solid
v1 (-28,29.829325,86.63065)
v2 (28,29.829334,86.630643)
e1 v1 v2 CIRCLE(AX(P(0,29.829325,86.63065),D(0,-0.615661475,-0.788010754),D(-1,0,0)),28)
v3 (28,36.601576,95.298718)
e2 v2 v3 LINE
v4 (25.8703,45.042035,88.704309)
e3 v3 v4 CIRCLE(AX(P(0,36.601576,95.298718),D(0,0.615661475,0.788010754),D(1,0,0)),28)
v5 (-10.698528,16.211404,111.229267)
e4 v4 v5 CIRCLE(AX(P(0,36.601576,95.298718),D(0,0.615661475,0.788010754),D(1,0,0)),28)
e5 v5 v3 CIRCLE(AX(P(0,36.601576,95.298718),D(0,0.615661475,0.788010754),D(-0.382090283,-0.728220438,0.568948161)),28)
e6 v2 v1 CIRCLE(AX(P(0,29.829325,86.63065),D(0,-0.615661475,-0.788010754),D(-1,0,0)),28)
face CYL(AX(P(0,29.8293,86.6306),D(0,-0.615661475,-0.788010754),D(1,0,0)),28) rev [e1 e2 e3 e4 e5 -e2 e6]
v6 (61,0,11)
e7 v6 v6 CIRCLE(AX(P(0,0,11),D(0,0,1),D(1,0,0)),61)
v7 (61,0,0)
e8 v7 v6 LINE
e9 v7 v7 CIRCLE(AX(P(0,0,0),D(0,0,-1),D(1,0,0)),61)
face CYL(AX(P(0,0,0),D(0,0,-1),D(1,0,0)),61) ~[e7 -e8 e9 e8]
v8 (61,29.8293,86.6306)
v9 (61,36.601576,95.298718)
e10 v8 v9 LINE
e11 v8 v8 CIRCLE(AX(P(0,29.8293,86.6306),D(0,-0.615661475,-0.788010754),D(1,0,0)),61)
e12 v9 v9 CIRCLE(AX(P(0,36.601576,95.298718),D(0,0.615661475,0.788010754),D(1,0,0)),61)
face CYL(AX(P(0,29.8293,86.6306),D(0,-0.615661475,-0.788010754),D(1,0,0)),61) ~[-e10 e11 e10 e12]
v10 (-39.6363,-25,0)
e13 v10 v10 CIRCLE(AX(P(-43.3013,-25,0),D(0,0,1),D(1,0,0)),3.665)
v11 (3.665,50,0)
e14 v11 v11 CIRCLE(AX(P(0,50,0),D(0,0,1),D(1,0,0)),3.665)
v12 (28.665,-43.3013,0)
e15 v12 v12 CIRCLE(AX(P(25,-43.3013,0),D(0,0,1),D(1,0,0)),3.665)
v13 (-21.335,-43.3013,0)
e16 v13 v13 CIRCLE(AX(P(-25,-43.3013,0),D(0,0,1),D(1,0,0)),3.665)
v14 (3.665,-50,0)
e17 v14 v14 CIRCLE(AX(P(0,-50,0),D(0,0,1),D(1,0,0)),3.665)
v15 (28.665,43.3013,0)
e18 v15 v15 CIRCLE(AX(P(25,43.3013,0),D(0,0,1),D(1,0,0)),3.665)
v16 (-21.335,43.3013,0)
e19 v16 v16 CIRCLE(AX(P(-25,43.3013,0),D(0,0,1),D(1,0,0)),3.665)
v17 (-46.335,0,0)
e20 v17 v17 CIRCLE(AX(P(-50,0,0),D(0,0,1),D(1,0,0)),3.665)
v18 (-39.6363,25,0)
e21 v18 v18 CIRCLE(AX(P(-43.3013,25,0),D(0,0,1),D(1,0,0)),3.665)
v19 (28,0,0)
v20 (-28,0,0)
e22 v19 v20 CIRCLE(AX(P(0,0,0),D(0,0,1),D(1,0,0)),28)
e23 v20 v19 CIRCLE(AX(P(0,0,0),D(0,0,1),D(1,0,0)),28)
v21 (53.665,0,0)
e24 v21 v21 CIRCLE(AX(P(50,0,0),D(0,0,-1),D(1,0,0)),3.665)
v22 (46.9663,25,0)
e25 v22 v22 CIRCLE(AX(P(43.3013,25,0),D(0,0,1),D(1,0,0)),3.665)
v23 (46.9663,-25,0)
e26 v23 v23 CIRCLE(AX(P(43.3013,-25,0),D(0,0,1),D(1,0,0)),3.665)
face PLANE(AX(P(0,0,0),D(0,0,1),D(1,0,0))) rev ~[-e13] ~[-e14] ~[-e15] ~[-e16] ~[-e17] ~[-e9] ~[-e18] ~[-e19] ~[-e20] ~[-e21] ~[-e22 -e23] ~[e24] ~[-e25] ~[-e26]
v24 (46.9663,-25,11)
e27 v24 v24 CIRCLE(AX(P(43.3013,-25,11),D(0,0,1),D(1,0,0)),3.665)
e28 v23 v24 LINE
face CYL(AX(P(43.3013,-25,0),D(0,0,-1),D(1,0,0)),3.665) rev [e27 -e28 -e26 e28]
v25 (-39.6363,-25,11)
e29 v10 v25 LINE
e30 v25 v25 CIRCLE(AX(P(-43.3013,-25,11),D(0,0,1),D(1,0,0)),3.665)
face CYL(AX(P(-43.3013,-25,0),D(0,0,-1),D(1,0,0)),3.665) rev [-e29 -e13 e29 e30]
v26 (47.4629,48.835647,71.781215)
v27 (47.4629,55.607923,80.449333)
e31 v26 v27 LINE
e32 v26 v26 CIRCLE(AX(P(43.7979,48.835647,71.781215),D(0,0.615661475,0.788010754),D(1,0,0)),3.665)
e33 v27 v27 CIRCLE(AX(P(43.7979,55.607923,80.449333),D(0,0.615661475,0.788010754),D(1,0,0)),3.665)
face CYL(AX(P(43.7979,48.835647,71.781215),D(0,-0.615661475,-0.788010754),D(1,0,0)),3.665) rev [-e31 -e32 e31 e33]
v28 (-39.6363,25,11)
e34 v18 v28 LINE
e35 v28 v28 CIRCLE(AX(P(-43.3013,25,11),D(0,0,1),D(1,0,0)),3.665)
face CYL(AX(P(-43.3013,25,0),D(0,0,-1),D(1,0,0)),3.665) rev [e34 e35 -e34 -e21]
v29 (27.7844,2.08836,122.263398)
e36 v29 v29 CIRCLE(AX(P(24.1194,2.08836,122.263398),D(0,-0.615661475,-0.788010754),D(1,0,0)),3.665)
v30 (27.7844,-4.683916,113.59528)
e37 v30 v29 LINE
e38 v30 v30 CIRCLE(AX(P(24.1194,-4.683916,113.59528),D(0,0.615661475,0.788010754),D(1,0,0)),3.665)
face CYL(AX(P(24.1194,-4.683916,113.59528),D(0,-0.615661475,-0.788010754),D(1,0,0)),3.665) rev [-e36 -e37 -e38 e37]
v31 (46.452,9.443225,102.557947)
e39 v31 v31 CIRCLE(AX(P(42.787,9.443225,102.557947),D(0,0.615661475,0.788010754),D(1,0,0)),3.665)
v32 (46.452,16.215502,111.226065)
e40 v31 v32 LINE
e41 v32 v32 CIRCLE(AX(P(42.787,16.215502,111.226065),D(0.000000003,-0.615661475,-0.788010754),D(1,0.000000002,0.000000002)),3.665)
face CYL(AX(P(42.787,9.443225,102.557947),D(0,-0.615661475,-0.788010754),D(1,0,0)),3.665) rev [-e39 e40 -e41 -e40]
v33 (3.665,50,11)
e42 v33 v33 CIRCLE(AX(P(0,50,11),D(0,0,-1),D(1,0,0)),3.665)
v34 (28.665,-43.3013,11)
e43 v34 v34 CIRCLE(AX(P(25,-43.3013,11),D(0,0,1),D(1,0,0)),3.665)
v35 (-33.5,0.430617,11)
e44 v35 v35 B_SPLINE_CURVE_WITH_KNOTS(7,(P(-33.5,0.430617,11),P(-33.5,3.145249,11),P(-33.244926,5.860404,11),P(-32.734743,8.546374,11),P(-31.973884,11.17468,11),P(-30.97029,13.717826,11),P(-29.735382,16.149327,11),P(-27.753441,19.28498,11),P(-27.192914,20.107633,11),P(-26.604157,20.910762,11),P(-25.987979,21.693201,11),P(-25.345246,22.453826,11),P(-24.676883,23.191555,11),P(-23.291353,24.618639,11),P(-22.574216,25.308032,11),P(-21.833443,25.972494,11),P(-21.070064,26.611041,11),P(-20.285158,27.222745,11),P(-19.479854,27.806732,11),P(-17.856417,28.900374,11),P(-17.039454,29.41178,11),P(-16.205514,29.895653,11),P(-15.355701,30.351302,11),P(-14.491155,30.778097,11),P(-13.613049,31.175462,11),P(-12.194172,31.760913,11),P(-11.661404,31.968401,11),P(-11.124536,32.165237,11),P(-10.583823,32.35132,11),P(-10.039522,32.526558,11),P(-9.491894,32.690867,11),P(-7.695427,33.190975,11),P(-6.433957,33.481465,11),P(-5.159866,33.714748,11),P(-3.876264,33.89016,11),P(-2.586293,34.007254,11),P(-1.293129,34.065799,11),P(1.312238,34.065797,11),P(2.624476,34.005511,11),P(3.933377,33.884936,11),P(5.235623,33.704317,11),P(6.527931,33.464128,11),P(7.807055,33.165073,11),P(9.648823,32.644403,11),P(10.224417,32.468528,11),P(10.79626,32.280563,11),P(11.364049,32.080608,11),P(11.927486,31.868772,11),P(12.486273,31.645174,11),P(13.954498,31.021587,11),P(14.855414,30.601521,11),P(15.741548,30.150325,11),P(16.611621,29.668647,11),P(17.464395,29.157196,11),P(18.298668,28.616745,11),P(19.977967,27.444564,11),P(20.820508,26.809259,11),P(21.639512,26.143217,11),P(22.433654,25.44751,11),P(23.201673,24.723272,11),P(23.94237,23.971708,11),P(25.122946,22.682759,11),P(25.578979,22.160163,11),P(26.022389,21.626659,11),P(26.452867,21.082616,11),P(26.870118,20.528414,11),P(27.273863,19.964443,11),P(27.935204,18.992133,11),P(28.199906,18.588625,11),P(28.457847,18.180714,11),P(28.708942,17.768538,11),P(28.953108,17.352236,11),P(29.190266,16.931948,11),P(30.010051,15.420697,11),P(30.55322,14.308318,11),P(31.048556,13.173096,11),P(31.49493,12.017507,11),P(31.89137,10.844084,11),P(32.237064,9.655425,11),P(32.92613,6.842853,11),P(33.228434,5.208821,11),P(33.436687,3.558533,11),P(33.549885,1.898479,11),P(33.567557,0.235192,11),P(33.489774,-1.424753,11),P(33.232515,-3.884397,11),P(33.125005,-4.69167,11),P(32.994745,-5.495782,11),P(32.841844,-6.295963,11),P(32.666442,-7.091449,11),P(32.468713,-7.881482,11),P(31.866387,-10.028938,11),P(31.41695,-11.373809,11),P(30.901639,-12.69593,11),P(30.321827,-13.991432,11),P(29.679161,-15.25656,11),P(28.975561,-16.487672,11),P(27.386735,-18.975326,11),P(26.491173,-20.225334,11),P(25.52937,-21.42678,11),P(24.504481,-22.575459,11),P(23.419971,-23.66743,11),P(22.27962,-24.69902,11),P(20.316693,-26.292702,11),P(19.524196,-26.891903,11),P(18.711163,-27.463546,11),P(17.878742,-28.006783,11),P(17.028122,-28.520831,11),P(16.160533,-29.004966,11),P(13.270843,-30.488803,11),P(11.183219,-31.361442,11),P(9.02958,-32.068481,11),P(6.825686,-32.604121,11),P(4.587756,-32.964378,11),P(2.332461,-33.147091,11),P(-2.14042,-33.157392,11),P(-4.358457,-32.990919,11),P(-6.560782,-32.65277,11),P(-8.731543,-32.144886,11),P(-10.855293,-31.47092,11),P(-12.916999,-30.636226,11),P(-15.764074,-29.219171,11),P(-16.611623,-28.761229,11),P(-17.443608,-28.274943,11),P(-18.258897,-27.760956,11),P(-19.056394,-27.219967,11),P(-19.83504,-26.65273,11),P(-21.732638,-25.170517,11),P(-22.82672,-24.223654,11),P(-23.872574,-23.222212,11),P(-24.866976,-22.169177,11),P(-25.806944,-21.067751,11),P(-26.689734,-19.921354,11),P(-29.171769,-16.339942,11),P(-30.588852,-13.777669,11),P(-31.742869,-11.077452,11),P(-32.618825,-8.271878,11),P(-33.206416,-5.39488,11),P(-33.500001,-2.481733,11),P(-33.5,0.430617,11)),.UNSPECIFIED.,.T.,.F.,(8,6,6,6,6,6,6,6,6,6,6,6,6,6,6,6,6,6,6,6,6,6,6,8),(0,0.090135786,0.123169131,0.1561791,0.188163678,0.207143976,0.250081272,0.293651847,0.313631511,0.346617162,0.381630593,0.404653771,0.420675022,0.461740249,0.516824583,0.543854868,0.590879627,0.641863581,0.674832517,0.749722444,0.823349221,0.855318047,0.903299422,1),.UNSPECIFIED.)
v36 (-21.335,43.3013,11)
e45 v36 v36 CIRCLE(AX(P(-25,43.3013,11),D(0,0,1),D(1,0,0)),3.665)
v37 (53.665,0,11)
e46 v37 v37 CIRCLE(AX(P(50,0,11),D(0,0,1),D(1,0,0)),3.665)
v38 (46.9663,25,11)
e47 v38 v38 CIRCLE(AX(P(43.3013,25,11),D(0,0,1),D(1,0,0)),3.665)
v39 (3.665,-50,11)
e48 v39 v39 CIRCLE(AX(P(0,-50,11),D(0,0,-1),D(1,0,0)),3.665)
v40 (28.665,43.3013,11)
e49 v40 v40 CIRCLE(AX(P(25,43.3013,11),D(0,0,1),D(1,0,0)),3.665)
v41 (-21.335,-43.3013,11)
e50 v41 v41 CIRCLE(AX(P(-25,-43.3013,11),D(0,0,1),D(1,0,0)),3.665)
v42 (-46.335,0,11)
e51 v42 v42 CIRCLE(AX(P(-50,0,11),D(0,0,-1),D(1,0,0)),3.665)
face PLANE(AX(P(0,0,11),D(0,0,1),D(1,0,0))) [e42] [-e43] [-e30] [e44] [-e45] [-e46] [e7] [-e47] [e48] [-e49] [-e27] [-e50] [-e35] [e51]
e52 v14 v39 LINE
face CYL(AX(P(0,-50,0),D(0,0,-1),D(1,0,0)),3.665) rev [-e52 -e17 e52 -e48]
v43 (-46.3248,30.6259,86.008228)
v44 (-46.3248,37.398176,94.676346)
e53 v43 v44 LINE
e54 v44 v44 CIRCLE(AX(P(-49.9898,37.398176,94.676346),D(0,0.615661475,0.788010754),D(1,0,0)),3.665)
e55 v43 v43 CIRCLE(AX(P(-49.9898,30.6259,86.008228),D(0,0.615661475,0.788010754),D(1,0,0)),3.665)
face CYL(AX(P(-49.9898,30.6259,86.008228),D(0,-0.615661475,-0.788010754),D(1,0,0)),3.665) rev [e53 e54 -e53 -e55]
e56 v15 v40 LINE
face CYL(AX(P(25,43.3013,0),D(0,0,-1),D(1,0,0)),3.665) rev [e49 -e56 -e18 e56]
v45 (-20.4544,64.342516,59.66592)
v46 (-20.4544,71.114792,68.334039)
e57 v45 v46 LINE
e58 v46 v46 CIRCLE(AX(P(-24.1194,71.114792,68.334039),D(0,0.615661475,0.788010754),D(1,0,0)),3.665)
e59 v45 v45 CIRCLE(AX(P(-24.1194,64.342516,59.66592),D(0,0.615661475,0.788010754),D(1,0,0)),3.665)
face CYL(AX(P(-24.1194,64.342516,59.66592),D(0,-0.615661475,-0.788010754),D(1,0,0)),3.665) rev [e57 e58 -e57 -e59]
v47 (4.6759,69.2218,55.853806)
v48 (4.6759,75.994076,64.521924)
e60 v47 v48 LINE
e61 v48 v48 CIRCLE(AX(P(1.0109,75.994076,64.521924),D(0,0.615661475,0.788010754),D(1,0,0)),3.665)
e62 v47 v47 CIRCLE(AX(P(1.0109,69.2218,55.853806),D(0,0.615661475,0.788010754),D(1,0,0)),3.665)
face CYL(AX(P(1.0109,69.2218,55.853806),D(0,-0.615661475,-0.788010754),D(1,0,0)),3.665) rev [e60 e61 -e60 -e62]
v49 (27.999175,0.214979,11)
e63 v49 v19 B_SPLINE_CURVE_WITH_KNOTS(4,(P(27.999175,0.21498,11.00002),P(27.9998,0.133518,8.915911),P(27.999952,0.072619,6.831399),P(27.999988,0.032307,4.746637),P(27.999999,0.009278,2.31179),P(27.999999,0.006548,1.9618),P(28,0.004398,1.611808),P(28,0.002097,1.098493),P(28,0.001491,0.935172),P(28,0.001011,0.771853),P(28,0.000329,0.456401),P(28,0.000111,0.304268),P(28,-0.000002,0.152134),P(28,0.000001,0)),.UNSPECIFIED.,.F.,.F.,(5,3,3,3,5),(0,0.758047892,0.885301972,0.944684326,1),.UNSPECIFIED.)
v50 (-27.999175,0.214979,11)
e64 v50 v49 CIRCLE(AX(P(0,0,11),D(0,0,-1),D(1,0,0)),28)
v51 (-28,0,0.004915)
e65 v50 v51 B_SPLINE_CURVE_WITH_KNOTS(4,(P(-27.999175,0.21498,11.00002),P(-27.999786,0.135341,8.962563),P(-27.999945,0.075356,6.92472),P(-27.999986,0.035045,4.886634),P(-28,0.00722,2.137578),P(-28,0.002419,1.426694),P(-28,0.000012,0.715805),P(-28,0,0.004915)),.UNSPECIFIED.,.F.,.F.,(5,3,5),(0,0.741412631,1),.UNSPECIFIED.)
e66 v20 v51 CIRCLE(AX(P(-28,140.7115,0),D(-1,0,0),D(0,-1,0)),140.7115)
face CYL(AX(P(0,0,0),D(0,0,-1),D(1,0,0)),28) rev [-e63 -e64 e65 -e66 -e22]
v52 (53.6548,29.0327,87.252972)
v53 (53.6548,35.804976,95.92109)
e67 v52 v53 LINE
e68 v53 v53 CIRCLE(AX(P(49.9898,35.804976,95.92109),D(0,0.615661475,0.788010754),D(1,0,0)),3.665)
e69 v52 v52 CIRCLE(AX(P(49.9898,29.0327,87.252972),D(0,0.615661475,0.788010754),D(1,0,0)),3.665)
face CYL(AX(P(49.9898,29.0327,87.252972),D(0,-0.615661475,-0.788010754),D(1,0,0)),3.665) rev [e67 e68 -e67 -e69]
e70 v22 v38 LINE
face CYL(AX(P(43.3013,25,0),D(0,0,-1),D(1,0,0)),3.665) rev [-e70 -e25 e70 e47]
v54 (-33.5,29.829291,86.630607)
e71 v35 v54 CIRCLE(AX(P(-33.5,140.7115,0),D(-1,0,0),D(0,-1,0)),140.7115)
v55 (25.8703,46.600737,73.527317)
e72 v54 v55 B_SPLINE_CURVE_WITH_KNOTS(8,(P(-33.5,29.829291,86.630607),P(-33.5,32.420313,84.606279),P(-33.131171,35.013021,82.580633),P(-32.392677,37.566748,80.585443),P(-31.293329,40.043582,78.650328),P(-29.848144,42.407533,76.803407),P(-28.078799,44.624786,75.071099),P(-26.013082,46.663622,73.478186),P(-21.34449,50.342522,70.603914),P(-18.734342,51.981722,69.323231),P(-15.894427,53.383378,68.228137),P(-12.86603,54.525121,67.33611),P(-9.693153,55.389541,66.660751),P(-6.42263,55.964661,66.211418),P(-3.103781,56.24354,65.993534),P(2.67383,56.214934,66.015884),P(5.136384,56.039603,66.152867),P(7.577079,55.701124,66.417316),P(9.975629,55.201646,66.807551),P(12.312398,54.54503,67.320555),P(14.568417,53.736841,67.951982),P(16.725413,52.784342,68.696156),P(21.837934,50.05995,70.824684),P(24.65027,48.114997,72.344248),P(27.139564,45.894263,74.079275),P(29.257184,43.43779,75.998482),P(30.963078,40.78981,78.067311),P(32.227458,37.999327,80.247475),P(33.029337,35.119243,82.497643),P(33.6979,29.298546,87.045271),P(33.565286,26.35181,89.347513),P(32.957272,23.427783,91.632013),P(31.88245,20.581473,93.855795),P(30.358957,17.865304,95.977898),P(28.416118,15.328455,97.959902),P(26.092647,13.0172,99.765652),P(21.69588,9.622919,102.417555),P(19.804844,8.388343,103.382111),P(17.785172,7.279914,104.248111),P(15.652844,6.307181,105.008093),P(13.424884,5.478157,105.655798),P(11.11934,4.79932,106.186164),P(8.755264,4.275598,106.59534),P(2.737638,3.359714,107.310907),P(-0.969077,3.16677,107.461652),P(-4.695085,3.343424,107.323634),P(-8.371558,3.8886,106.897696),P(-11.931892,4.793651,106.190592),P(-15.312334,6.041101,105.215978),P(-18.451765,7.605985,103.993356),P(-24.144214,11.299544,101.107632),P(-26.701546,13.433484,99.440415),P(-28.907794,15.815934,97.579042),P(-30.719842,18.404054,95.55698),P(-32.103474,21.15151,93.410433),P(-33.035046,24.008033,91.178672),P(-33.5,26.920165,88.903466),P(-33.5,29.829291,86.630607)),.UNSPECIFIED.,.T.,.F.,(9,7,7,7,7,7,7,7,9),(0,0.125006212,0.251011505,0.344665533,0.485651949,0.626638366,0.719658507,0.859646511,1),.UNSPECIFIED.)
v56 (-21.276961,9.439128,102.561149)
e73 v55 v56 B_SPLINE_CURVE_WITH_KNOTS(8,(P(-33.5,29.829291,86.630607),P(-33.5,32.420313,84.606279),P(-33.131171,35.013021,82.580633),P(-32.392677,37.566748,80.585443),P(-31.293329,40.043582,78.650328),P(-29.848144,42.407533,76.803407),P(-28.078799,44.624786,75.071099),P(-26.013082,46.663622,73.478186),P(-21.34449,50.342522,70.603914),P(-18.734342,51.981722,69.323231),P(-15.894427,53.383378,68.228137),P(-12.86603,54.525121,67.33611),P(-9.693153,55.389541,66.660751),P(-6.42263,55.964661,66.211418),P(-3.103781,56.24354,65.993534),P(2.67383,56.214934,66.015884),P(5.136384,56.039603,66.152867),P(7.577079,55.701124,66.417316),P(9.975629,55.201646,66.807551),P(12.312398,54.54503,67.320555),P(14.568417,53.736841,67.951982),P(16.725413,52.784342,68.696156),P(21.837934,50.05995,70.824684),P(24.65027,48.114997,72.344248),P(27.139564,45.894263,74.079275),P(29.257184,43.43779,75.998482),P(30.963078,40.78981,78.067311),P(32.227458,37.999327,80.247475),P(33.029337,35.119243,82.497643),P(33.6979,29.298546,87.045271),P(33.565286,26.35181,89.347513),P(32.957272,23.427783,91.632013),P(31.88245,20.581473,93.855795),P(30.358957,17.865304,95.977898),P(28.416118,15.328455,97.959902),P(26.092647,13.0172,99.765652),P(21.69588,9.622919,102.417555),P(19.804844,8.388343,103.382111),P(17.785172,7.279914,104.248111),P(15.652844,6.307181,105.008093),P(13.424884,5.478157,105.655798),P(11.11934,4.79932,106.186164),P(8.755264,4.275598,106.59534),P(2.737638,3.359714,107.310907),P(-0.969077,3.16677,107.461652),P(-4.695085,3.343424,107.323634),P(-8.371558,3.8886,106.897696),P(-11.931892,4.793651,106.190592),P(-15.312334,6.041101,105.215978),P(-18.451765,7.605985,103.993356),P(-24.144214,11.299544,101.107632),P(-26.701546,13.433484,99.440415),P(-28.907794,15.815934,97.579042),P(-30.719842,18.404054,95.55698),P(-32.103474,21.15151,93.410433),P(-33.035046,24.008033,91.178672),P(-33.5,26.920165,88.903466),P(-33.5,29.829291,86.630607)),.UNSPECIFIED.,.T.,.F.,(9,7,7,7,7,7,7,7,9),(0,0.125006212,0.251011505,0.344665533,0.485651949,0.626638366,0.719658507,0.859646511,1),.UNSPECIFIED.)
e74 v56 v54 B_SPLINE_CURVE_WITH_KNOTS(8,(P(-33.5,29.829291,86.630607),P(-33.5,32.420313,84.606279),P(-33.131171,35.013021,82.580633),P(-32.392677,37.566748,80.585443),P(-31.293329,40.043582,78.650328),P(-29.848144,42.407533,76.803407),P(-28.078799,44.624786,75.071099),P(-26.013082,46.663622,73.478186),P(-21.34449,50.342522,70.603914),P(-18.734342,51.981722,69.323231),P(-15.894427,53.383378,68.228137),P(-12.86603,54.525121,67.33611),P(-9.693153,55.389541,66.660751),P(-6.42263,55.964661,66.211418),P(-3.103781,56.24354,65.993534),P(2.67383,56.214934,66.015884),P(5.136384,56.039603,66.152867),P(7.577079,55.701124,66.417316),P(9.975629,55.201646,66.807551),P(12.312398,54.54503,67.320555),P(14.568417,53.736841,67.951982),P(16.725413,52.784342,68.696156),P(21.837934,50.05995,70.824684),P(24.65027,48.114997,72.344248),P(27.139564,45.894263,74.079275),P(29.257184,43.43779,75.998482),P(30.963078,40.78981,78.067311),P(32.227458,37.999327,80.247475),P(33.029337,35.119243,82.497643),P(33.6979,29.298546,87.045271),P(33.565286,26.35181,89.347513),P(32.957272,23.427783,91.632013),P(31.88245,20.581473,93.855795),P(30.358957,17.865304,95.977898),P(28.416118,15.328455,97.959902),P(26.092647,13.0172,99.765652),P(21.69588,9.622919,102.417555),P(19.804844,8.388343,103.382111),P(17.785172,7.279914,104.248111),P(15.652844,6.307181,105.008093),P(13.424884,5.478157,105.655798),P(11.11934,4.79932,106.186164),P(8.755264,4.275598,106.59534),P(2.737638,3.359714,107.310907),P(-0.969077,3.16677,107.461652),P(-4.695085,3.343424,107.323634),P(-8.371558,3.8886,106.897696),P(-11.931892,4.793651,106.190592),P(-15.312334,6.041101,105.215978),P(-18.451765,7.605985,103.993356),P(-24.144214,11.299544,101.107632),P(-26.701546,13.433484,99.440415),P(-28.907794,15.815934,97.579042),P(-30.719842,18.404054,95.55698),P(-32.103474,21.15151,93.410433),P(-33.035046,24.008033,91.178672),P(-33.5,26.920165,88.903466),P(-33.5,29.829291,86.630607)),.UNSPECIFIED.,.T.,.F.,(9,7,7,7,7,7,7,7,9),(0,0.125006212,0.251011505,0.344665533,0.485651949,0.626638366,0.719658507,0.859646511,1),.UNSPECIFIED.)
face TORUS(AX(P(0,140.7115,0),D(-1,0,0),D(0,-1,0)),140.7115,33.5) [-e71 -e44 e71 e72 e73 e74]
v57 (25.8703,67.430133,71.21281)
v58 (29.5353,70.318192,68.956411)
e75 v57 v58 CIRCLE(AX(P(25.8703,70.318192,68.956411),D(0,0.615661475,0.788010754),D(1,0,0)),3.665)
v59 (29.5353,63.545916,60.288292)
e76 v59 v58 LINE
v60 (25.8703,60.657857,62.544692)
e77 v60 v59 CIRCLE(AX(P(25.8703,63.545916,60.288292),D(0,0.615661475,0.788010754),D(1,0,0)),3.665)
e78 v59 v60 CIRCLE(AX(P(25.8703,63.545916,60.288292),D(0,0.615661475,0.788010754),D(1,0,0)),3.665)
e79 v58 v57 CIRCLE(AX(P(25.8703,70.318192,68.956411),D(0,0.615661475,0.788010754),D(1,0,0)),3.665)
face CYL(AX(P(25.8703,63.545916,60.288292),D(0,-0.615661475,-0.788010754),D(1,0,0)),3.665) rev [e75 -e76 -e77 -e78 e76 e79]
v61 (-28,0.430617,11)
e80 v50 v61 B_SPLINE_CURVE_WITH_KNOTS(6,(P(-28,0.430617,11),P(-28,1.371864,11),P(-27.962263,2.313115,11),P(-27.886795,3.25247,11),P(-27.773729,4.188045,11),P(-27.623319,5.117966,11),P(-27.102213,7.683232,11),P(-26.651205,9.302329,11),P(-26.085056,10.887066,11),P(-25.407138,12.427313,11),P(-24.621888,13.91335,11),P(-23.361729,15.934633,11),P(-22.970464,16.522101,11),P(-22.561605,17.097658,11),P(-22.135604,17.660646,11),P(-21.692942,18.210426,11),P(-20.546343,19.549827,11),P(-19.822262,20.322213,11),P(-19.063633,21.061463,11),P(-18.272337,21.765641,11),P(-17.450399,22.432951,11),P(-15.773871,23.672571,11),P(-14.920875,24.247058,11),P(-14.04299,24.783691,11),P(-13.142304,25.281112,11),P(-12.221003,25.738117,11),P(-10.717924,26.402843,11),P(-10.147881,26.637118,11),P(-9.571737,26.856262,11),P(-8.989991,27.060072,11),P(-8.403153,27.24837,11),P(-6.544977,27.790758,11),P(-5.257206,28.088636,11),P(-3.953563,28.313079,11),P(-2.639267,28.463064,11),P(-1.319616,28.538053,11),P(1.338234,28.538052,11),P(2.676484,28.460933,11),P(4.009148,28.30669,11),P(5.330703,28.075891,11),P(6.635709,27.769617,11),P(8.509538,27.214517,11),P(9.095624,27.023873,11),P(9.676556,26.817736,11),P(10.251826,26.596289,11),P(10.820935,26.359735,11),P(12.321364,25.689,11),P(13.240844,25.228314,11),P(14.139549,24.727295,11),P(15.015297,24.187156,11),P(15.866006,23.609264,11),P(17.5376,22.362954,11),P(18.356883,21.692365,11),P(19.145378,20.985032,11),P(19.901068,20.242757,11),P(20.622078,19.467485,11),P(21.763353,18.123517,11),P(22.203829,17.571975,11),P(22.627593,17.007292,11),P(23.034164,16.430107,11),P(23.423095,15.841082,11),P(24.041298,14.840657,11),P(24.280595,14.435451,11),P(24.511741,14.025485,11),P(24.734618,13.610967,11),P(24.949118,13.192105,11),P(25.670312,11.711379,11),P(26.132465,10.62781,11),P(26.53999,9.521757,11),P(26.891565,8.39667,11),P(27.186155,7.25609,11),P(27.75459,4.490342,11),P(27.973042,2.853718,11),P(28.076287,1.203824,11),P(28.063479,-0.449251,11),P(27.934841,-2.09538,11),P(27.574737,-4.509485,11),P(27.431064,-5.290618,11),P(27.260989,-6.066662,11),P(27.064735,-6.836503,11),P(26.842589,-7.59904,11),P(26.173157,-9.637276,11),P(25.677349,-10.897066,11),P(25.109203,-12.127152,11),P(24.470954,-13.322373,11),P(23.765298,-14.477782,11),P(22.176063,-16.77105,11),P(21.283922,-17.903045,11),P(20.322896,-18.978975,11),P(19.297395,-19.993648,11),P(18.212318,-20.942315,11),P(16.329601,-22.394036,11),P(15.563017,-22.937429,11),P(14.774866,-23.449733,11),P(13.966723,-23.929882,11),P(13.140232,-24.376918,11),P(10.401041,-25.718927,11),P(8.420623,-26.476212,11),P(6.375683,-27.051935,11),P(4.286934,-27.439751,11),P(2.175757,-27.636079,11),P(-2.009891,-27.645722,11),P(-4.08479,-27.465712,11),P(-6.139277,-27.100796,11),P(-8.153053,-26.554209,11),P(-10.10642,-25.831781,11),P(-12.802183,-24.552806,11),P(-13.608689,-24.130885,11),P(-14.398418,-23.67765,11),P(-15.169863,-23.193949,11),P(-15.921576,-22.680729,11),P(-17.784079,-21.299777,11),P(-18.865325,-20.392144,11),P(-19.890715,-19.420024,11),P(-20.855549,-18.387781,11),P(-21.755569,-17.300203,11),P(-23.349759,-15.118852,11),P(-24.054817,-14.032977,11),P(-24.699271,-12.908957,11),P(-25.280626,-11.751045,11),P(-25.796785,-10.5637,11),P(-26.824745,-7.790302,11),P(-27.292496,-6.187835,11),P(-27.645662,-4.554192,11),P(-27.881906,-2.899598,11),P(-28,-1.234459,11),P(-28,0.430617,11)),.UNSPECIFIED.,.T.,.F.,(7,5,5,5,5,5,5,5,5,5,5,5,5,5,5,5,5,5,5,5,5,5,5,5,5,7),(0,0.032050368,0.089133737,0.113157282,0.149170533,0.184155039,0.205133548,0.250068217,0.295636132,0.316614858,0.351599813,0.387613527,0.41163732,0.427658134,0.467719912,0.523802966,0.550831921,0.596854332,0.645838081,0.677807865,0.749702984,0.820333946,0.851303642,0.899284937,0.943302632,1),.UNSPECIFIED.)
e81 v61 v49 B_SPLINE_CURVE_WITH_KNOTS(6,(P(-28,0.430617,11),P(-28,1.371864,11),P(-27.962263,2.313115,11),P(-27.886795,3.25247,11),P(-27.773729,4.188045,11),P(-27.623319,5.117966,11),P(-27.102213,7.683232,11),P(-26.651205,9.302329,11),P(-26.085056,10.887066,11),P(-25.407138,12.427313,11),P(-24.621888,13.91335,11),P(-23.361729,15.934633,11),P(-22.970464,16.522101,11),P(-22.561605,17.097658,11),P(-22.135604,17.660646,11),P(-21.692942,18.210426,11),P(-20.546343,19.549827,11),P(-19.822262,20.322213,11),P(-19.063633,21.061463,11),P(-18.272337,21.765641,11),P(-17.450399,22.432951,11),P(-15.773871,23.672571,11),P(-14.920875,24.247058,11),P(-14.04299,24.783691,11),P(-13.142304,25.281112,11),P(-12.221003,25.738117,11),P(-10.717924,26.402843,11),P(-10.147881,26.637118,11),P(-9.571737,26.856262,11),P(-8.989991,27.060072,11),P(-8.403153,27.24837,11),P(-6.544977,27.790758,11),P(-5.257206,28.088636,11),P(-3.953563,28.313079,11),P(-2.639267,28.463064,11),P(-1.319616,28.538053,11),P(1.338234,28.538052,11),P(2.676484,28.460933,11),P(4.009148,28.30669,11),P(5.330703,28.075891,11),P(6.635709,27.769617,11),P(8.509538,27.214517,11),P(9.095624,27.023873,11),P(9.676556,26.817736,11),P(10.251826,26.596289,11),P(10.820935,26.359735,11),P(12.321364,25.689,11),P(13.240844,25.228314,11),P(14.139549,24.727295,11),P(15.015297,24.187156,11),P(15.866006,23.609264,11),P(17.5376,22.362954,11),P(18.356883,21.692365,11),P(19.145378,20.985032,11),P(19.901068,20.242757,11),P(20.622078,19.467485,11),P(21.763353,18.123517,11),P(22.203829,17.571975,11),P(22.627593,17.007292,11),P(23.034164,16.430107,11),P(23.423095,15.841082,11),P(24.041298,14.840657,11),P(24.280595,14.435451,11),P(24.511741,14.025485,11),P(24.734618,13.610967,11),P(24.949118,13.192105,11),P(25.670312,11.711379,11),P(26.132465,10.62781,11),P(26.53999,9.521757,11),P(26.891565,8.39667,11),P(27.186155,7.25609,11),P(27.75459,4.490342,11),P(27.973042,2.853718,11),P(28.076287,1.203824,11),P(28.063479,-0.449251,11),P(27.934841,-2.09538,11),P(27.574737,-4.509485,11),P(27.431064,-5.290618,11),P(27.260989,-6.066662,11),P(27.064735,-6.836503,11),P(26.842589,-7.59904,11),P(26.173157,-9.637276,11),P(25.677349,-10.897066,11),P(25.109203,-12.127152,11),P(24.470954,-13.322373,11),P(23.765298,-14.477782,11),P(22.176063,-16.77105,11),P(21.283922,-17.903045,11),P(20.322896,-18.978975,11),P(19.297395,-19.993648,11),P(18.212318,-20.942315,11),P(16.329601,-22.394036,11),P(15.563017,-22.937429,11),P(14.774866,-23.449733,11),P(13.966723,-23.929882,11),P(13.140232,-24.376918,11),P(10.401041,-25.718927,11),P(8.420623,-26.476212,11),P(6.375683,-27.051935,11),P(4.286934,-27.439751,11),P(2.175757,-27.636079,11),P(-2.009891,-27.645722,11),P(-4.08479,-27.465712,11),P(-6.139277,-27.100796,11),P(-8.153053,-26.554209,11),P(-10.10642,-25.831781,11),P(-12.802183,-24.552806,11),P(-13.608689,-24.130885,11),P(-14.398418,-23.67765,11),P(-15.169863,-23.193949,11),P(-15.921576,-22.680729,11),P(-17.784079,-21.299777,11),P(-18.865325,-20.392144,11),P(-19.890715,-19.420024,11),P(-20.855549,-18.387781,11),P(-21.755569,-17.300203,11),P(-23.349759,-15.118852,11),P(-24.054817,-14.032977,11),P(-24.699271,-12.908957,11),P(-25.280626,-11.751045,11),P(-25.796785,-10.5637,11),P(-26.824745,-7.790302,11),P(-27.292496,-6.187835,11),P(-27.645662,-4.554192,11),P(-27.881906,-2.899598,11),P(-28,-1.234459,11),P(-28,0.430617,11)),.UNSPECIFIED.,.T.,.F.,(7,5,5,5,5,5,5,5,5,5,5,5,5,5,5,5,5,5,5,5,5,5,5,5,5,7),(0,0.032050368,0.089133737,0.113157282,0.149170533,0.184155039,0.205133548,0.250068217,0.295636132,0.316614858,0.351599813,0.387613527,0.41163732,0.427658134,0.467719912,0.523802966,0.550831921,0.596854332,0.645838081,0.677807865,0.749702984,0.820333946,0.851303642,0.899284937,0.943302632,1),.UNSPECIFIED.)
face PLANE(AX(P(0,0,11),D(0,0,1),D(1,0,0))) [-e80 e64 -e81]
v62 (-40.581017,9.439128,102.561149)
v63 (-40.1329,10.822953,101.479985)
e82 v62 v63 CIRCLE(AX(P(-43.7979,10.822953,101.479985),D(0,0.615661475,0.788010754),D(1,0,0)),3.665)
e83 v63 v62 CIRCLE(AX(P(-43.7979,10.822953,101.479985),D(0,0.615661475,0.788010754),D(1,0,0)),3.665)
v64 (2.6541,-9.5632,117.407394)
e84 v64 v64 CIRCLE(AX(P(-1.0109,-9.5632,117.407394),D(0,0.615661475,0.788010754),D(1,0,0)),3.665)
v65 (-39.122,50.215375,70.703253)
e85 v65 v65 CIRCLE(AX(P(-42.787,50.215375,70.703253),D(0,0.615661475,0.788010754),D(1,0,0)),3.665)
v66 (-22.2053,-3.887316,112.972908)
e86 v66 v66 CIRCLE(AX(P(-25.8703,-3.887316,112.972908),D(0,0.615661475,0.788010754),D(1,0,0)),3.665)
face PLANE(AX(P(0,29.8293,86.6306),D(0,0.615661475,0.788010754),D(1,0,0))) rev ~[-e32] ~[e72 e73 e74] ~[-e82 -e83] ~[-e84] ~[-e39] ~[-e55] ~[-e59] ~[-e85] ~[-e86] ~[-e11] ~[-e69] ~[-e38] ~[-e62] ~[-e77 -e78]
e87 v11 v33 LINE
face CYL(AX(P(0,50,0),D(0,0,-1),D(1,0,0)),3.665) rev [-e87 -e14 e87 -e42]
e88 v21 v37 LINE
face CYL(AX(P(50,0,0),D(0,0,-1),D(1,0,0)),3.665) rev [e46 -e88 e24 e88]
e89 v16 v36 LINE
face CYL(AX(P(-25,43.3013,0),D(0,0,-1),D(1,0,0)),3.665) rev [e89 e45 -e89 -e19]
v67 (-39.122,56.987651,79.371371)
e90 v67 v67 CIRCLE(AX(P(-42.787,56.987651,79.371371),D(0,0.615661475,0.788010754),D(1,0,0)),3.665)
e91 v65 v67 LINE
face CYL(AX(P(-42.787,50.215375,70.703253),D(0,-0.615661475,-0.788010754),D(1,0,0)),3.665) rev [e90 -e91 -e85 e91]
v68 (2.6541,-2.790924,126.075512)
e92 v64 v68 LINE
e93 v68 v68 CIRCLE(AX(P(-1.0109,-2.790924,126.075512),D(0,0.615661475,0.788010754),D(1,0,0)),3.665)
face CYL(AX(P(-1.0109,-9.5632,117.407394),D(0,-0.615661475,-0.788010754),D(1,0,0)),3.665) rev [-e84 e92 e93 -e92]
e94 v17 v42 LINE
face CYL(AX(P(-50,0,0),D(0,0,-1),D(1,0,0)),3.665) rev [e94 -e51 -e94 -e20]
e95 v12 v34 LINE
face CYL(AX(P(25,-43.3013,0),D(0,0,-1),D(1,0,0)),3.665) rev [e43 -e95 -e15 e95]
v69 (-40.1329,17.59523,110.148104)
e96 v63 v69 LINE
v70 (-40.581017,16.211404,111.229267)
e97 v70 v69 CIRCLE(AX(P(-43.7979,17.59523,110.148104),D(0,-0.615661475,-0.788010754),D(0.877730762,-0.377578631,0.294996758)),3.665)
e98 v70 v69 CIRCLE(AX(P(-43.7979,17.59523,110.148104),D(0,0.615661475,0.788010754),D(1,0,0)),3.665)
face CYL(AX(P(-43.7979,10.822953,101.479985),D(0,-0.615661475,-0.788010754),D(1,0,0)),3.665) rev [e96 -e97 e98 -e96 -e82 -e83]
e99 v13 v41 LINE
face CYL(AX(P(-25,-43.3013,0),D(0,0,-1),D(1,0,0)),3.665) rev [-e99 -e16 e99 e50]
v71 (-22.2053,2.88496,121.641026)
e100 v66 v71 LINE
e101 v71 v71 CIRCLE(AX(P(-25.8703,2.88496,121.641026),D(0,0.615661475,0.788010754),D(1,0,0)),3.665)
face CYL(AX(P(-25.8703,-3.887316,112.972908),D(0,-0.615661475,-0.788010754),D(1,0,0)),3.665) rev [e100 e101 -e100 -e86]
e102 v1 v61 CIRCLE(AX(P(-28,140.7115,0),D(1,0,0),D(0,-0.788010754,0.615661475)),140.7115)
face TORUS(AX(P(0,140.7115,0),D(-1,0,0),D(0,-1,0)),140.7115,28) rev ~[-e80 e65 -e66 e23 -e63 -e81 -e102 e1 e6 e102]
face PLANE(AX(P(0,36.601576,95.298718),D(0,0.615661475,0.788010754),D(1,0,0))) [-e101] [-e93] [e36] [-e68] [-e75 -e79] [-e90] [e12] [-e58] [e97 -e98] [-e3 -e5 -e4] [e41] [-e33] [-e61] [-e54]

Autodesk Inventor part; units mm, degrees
ref_plane "YZ Plane" through (0, 0, 0) normal (1, 0, 0) x (0, 1, 0)
ref_plane "XY Plane" through (0, 0, 0) normal (0, 0, 1) x (1, 0, 0)
sketch "Sketch2" plane through (0, 0, 0) normal (0, 0, 1) x (1, 0, 0)
  circle A0 centre (0, 0) radius 61
  circle A1 centre (0, 0) radius 28
  line L0 (0, 68.8089) -> (0, -61.0943)
  line L1 (-74.2561, 0) -> (92.1735, 0)
  circle A2 centre (0, 50) radius 3.665
  circle A3 centre (-25, 43.3013) radius 3.665
  circle A4 centre (-43.3013, 25) radius 3.665
  circle A5 centre (-50, 0) radius 3.665
  circle A6 centre (-43.3013, -25) radius 3.665
  circle A7 centre (-25, -43.3013) radius 3.665
  circle A8 centre (0, -50) radius 3.665
  circle A9 centre (25, -43.3013) radius 3.665
  circle A10 centre (43.3013, -25) radius 3.665
  circle A11 centre (50, 0) radius 3.665
  circle A12 centre (43.3013, 25) radius 3.665
  circle A13 centre (25, 43.3013) radius 3.665
  dimension "d0" = 122
  dimension "d1" = 56
  dimension "d2" = 7.33
  dimension "d4" = 50
  dimension "d7" = 360
extrude "Extrusion1" add sketch "Sketch2" along normal blind 11 contours L1 A11 A1 L0 A2 A0 | A0 L0 A8 A1 L1 A11 | L0 A2 A1 L1 A5 A0 | A0 L1 A5 A1 L0 A8
ref_plane "Work Plane1" through (0, 145, 0) normal (0, 1, 0) x (-1, 0, 0)
sketch "Sketch4" plane through (0, 0, 0) normal (0, 0, -1) x (-1, 0, 0)
  circle A0 centre (0, 0) radius 28
  circle A1 centre (0, 0) radius 33.5
  line L0 (-79.8111, 140.7115) -> (80.5184, 140.7115) construction
  dimension "d12" = 56
  dimension "d13" = 67
revolve "Revolution1" add sketch "Sketch4" angle 38 about axis through (79.8111, 140.7115, 0) along (-1, 0, 0)
sketch "Sketch5" plane through (0, 29.8293, 86.6306) normal (0, 0.6157, 0.788) x (1, 0, 0)
  circle A0 centre (0, 0) radius 61
  circle A1 centre (0, 0) radius 28
  line L0 (25.8703, 42.9334) -> (25.8703, -86.9698)
  line L1 (-48.3858, -25.8755) -> (118.0439, -25.8755)
  circle A2 centre (25.8703, 42.787) radius 3.665
  circle A3 centre (1.0109, 49.9898) radius 3.665
  circle A4 centre (-24.1194, 43.7979) radius 3.665
  circle A5 centre (-42.787, 25.8703) radius 3.665
  circle A6 centre (-49.9898, 1.0109) radius 3.665
  circle A7 centre (-43.7979, -24.1194) radius 3.665
  circle A8 centre (-25.8703, -42.787) radius 3.665
  circle A9 centre (-1.0109, -49.9898) radius 3.665
  circle A10 centre (24.1194, -43.7979) radius 3.665
  circle A11 centre (42.787, -25.8703) radius 3.665
  circle A12 centre (49.9898, -1.0109) radius 3.665
  circle A13 centre (43.7979, 24.1194) radius 3.665
  point P0 (0, 29.8293)
  dimension "d17" = 122
  dimension "d18" = 56
  dimension "d19" = 7.33
  dimension "d20" = 50
  dimension "d21" = 360
extrude "Extrusion2" add sketch "Sketch5" along normal blind 11 contours L1 A1 L0 | A0 L1 A11 L0 A10 | L0 A10 L1 A11 A0 picked at (22.9817, -20.4121)
properties part number "crazy"
